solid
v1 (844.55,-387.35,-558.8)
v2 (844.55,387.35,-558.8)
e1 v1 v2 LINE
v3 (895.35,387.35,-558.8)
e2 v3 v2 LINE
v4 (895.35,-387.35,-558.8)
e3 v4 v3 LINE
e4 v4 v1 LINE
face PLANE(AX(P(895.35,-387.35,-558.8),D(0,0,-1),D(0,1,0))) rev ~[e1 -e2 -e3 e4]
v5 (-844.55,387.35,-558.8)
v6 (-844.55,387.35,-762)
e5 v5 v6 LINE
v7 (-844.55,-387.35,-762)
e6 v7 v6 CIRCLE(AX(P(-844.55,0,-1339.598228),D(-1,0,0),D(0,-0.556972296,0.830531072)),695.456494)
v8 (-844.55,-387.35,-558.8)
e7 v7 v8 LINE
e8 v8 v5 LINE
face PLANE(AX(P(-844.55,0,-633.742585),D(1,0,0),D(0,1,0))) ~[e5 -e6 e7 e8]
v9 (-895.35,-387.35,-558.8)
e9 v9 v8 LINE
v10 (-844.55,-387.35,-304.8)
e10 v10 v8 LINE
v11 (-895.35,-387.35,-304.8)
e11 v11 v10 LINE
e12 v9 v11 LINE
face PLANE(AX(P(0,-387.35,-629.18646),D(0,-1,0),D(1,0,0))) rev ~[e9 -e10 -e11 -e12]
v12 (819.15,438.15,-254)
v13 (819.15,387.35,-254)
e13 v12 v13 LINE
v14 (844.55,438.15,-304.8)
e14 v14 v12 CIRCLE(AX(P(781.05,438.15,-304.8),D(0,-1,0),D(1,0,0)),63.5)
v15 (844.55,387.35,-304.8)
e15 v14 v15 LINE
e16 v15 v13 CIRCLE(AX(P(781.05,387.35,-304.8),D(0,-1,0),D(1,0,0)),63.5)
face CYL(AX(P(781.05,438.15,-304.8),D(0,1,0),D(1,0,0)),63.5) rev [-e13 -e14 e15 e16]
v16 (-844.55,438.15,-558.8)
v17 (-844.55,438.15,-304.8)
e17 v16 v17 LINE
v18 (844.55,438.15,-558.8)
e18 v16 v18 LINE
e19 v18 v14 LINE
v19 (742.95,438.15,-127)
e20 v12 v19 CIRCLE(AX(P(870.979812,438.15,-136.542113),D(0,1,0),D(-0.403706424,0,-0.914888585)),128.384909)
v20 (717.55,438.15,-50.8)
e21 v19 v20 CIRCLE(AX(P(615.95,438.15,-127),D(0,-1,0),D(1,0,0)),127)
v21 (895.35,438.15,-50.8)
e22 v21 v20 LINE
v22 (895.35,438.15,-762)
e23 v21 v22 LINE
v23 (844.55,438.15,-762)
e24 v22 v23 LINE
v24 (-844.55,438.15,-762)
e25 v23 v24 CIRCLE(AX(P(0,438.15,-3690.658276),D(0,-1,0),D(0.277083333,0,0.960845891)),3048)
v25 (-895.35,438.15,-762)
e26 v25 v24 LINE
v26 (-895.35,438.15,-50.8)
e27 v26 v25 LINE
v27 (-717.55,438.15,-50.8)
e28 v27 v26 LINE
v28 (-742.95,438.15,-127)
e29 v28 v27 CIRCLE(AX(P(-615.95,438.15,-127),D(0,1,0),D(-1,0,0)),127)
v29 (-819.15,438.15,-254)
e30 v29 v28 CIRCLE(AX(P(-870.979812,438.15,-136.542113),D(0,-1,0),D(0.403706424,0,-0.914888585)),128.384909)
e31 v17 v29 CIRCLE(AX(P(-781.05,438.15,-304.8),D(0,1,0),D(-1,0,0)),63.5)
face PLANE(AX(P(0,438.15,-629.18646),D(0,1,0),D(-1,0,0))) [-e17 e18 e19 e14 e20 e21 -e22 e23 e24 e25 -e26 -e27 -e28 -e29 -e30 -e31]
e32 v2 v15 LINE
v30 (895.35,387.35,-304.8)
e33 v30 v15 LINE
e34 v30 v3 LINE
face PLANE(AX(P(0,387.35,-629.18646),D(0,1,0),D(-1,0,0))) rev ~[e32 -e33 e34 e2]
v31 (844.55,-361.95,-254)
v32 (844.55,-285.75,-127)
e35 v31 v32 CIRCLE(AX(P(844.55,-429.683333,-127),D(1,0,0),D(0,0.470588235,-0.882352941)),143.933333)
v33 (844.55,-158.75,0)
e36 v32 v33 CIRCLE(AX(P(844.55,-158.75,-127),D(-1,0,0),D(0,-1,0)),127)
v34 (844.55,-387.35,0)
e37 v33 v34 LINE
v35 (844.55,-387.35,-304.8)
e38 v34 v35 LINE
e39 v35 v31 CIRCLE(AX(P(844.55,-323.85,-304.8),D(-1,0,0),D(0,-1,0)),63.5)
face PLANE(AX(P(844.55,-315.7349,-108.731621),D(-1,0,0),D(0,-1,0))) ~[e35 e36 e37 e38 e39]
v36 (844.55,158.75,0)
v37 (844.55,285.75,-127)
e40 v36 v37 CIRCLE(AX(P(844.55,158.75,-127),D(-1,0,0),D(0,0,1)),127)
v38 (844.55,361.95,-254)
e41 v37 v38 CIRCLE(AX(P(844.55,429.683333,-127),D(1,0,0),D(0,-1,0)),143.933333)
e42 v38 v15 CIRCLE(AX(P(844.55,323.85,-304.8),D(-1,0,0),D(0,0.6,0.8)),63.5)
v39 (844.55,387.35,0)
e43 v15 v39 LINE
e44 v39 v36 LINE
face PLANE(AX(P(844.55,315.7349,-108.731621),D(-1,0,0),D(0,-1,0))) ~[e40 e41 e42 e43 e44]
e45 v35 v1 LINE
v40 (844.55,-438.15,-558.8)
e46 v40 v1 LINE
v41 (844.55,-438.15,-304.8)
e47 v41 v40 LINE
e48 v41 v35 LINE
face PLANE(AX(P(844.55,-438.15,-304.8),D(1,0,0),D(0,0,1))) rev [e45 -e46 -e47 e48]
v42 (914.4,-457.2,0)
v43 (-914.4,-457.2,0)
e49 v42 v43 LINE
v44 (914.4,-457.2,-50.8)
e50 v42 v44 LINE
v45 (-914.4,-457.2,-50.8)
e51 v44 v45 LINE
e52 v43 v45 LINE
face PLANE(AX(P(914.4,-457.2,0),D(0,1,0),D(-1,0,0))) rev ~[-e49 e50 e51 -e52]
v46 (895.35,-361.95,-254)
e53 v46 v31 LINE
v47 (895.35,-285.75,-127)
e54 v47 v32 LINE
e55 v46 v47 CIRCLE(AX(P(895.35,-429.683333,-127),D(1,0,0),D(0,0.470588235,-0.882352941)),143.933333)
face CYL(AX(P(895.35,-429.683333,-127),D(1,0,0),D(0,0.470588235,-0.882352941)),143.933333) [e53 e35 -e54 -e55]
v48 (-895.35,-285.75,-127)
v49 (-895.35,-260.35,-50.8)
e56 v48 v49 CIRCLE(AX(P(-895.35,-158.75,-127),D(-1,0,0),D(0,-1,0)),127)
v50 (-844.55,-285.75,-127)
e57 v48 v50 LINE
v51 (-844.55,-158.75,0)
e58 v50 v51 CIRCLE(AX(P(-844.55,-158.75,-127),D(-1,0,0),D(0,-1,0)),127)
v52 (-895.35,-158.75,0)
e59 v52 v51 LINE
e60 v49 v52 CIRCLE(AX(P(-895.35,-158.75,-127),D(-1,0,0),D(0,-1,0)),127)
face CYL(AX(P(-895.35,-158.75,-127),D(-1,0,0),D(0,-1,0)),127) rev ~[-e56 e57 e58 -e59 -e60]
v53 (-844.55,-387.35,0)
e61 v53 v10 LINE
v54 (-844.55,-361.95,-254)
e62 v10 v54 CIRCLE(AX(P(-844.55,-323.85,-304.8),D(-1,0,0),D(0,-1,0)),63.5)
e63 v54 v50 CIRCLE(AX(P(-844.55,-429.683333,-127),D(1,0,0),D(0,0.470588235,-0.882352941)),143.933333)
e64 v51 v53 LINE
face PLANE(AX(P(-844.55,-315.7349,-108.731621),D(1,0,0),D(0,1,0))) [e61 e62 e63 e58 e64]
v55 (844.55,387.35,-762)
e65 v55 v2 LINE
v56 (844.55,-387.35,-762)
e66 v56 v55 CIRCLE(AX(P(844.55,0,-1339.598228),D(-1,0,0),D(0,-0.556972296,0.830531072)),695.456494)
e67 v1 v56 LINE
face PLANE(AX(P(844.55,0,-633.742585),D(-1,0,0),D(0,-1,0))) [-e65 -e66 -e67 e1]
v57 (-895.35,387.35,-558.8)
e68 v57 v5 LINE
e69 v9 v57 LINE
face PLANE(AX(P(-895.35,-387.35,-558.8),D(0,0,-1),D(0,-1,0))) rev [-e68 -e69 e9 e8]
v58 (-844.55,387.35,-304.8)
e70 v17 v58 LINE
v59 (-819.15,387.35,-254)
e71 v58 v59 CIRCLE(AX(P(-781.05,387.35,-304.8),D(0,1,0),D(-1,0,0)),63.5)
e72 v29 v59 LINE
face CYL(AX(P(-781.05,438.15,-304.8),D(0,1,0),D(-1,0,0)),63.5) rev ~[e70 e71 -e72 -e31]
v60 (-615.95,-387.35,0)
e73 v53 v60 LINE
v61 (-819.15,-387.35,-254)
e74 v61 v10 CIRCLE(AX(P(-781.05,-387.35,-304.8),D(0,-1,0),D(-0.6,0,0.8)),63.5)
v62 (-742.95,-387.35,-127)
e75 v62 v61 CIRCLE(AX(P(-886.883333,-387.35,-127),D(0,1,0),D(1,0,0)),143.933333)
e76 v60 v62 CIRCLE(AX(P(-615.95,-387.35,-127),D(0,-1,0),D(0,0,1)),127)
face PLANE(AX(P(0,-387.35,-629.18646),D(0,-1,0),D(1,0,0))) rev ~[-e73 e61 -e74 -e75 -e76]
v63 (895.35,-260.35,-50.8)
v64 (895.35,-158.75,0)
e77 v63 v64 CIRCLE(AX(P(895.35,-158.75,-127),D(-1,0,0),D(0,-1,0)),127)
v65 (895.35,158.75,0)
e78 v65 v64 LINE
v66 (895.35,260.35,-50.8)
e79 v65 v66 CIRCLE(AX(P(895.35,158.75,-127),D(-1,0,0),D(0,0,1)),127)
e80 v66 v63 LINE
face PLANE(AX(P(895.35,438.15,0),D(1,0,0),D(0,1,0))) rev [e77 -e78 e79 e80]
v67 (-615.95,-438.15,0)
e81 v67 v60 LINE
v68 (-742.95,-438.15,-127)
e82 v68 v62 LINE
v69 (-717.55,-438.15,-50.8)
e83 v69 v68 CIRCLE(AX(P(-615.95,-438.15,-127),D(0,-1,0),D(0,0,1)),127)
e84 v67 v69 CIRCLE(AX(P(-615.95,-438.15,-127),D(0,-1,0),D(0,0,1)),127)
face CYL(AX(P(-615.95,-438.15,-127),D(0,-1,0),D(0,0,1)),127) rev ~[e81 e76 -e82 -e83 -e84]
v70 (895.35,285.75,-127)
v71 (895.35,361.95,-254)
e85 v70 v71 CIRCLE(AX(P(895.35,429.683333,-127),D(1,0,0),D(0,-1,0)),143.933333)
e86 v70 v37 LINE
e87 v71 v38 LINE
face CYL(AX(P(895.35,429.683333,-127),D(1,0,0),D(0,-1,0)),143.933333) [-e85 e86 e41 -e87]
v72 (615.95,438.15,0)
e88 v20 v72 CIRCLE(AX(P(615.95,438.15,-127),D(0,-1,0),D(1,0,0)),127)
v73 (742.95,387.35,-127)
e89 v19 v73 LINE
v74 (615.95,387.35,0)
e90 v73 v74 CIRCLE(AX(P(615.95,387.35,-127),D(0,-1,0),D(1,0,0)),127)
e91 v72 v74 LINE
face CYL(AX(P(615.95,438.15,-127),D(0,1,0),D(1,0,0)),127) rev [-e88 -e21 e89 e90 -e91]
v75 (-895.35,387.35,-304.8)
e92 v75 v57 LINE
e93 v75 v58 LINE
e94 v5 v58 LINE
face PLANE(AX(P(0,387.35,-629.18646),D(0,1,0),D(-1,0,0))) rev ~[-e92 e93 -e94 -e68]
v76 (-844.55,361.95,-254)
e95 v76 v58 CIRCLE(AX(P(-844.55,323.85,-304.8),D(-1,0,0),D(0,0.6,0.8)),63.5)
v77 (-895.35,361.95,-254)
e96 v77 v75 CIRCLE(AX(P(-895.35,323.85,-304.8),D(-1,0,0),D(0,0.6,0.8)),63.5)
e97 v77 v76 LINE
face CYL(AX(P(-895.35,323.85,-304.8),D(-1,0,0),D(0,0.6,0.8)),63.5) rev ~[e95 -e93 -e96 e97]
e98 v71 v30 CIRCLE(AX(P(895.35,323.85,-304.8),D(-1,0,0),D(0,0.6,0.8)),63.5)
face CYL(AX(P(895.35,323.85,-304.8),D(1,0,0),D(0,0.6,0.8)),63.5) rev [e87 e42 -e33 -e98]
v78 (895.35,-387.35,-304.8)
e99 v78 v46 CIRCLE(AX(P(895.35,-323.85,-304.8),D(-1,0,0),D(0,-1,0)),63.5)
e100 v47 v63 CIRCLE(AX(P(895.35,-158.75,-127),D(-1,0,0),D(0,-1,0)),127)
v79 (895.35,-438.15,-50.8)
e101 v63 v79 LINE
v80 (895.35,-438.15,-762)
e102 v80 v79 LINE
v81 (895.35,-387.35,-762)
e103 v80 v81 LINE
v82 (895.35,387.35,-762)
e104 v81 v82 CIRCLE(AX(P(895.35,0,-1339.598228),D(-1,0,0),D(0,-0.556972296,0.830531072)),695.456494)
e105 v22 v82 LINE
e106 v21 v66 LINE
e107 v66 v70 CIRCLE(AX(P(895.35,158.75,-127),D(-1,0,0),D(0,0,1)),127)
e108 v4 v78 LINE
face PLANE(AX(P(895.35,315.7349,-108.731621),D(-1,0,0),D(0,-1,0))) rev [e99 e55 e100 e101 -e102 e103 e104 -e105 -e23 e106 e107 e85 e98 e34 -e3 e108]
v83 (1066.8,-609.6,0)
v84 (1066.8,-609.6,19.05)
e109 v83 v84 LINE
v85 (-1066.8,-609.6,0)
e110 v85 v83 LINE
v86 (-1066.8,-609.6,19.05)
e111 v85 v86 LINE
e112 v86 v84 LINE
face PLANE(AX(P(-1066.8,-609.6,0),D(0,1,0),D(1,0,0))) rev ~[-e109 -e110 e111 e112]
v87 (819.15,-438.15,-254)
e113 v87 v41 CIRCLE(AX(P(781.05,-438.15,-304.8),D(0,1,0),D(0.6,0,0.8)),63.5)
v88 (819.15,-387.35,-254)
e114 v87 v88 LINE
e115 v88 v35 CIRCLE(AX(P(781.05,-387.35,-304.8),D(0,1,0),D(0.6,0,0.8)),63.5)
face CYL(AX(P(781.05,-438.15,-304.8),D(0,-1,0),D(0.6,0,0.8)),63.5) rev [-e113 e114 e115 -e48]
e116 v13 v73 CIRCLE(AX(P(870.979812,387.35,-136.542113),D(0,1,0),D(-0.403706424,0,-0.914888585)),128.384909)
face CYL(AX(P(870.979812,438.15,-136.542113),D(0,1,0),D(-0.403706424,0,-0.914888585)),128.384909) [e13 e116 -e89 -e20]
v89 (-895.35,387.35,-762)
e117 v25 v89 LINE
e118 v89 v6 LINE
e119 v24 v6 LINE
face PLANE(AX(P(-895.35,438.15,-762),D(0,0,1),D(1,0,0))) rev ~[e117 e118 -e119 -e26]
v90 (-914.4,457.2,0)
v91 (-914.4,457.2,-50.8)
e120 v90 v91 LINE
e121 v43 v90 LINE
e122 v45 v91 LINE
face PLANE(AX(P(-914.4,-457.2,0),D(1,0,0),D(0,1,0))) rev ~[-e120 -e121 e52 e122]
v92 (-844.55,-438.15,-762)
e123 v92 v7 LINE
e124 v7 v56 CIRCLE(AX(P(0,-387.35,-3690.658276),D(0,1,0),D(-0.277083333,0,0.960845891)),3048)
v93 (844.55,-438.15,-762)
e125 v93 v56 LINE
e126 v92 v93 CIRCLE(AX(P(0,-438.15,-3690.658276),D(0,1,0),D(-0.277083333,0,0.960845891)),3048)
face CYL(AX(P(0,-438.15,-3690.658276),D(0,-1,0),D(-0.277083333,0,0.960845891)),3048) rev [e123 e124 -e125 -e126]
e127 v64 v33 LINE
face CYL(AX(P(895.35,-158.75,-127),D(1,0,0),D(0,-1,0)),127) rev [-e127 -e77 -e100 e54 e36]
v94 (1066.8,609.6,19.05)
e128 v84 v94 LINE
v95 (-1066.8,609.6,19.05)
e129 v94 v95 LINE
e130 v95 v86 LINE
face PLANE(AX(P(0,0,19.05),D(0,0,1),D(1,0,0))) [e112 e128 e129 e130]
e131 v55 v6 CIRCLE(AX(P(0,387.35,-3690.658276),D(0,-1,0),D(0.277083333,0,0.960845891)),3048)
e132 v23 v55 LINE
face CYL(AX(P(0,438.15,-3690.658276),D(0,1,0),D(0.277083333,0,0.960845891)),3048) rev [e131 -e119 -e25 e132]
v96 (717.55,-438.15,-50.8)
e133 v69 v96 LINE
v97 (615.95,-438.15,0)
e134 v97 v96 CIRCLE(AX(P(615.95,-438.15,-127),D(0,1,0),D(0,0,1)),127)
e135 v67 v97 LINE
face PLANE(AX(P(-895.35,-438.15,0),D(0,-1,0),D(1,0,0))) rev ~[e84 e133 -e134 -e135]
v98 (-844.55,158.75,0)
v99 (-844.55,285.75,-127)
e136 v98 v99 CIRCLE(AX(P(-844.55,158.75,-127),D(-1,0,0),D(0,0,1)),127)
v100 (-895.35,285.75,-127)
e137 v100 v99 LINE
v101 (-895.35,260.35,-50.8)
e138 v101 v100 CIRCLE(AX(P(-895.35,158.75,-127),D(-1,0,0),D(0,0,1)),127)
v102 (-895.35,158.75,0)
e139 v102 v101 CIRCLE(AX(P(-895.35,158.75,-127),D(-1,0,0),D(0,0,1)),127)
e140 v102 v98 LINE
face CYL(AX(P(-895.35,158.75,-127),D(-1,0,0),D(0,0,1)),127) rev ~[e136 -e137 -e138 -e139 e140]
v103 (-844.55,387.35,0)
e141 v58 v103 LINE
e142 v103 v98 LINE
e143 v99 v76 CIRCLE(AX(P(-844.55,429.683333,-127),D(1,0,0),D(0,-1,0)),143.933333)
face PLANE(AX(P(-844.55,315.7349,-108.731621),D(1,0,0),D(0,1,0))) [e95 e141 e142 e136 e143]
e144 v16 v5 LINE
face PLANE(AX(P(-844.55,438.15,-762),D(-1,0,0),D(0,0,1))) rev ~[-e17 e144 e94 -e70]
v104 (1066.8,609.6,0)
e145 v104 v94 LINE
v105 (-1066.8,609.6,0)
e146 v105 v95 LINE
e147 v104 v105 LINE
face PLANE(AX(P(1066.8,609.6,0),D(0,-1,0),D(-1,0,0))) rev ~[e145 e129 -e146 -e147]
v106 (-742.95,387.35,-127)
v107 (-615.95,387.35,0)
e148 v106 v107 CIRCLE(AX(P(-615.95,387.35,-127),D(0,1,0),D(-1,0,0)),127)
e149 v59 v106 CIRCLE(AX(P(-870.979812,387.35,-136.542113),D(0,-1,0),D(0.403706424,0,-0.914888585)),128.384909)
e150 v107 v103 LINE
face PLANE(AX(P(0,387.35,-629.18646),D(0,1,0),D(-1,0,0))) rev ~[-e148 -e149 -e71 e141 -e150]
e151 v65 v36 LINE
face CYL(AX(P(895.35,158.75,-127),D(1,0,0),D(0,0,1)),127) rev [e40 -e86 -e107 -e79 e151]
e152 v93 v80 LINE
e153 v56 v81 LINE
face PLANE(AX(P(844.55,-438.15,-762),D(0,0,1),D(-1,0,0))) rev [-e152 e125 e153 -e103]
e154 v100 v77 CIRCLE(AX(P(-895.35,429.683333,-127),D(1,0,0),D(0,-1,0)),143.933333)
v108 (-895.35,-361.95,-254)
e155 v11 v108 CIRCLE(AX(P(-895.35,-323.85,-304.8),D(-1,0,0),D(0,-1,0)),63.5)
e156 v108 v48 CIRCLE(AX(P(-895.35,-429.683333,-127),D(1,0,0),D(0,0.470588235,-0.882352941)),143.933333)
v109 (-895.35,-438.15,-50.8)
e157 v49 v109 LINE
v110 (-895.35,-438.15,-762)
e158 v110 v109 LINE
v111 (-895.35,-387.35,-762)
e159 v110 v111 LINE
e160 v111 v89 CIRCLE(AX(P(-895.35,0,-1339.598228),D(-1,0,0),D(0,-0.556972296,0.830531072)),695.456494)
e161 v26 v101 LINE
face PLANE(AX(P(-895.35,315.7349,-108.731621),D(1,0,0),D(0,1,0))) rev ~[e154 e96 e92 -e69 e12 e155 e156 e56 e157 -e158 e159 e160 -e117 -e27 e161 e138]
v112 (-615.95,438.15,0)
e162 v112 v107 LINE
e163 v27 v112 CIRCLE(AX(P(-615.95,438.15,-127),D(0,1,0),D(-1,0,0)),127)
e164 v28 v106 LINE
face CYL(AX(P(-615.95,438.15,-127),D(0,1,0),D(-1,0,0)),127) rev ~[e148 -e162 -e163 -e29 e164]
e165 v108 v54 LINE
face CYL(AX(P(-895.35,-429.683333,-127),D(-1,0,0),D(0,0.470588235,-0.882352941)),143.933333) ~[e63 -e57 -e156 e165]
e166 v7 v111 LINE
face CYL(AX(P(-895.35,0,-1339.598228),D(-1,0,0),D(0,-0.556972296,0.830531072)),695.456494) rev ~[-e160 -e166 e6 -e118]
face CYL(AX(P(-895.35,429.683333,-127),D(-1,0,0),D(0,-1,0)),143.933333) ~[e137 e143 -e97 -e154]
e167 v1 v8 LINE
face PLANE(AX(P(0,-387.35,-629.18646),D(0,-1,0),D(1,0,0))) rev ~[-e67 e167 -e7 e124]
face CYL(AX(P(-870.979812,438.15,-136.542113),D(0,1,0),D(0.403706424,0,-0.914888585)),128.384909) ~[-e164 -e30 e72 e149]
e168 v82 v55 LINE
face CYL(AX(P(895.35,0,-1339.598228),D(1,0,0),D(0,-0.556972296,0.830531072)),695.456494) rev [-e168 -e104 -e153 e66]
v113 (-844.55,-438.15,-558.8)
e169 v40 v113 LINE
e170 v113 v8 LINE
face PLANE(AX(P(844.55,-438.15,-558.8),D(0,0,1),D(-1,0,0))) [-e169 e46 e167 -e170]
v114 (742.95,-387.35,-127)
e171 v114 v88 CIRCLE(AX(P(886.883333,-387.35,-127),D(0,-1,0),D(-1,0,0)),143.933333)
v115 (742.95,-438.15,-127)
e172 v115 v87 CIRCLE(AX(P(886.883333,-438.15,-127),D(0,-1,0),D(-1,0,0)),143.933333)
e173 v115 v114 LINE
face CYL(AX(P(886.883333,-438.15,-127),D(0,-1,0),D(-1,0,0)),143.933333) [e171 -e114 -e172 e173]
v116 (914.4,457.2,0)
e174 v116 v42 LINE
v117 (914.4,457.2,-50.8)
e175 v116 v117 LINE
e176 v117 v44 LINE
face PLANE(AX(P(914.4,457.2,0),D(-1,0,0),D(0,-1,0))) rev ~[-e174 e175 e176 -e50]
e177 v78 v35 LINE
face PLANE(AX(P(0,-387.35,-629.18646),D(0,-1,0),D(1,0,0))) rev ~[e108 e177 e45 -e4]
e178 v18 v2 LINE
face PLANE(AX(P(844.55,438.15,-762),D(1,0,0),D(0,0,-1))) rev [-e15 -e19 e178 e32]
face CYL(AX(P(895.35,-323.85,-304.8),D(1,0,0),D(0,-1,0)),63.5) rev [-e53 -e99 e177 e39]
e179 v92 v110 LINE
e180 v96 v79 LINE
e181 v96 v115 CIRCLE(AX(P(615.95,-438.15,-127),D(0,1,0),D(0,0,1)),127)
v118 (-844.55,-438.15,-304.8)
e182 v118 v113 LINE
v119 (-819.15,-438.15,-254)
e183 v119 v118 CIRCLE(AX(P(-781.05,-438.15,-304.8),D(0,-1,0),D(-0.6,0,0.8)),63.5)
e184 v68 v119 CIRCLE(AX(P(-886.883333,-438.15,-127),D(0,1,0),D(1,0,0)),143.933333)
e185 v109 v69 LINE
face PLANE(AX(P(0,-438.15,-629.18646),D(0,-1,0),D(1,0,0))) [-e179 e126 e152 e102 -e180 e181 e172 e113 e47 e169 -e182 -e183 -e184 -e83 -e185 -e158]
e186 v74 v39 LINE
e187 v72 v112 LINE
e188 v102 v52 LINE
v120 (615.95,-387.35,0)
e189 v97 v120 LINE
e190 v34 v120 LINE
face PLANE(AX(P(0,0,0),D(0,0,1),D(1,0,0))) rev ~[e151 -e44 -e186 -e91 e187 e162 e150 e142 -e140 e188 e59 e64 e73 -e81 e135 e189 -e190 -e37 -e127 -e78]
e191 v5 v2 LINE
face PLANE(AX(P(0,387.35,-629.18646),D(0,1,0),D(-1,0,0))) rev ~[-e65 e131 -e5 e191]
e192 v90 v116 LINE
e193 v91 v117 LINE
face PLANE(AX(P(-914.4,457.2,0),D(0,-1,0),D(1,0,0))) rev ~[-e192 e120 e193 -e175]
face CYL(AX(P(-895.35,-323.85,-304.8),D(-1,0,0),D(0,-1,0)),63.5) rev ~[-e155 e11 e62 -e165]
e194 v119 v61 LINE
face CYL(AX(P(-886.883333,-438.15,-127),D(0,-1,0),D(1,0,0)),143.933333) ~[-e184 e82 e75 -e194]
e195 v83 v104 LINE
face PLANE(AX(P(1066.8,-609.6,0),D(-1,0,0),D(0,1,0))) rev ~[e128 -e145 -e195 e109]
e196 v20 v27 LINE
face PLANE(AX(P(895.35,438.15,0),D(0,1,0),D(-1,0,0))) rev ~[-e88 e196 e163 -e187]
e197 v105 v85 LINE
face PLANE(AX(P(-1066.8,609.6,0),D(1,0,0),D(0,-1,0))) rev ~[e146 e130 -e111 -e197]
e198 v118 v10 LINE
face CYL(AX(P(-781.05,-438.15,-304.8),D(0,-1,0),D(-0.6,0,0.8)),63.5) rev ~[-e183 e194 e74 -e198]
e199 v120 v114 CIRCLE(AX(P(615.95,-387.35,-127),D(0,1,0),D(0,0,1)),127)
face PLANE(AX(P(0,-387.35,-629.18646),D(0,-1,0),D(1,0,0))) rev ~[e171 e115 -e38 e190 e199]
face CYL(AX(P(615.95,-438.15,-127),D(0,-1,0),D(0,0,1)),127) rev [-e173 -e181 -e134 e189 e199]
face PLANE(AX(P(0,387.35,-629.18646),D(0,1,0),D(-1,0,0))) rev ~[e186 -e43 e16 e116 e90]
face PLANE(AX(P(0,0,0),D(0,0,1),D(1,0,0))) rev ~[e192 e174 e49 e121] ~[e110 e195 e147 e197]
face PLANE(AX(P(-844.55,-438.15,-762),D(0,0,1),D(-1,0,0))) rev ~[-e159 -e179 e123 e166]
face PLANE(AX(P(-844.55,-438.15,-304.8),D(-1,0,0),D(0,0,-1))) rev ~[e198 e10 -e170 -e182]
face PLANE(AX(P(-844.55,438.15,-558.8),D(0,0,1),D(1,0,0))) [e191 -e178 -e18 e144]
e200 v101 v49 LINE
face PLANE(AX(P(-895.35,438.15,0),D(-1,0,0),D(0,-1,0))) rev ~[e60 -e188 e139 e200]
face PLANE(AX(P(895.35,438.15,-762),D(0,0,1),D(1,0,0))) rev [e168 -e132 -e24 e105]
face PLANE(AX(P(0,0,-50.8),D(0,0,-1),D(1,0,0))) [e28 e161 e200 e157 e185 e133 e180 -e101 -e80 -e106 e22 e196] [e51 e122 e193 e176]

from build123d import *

# Parameters (mm, degrees)
F0_W      = 2057.4
F0_H      = 1143
F1_DEPTH  = 19.05
F3_DEPTH  = 50.8
F5_DEPTH  = 50.8
F7_DEPTH  = 50.8
F10_DEPTH = 50.8
F12_DEPTH = 50.8
F14_DEPTH = 50.8
F16_DEPTH = 50.8
F18_DEPTH = 50.8


with BuildPart() as f1:
    # F0 (on Top) → F1 (new body)
    with BuildSketch(Plane.XY):
        Polygon((1066.8, 609.6), (0, 609.6), (-1066.8, 609.6), (-1066.8, -609.6), (-1028.7, -609.6), (1066.8, -609.6), align=None)
        Rectangle(F0_W, F0_H, mode=Mode.SUBTRACT)
        Rectangle(F0_W, F0_H)
    extrude(amount=F1_DEPTH)

    # F2 (on face) → F3 (join)
    with BuildSketch(Plane(origin=(0, 0, 0), x_dir=(1, 0, 0), z_dir=(0, 0, -1))):
        Polygon((-914.4, -457.2), (0, -457.2), (914.4, -457.2), (914.4, 457.2), (0, 457.2), (-914.4, 457.2), align=None)
        Polygon((895.35, -438.15), (0, -438.15), (-895.35, -438.15), (-895.35, 438.15), (0, 438.15), (895.35, 438.15), align=None, mode=Mode.SUBTRACT)
    extrude(amount=F3_DEPTH)

    # F4 (on face) → F5 (join)
    with BuildSketch(Plane(origin=(0, -438.15, 0), x_dir=(-1, 0, 0), z_dir=(0, 1, 0))):
        with BuildLine():
            Line((895.35, -762), (895.35, 0))
            Line((895.35, 0), (742.95, 0))
            Line((742.95, 0), (615.95, 0))
            ThreePointArc((615.95, 0), (705.7525612107, -37.1974387893), (742.95, -127))
            ThreePointArc((742.95, -127), (763.4615182258, -201.0530890645), (819.15, -254))
            ThreePointArc((819.15, -254), (837.8461266285, -276.4019366858), (844.55, -304.8))
            Line((844.55, -304.8), (844.55, -762))
            Line((844.55, -762), (895.35, -762))
        make_face()
    extrude(amount=F5_DEPTH)

    # F6 (on face) → F7 (join)
    with BuildSketch(Plane.XZ.offset(-438.15)):
        with BuildLine():
            Line((-742.95, 0), (-895.35, 0))
            Line((-895.35, 0), (-895.35, -127))
            Line((-895.35, -127), (-895.35, -203.2))
            Line((-895.35, -203.2), (-895.35, -762))
            Line((-895.35, -762), (-844.55, -762))
            Line((-844.55, -762), (-844.55, -304.8))
            ThreePointArc((-844.55, -304.8), (-837.8461266285, -276.4019366858), (-819.15, -254))
            ThreePointArc((-819.15, -254), (-760.8906614316, -202.595603141), (-742.95, -127))
            ThreePointArc((-742.95, -127), (-705.7525612107, -37.1974387893), (-615.95, 0))
            Line((-615.95, 0), (-742.95, 0))
        make_face()
    extrude(amount=F7_DEPTH)

    # F8: F1 across plane


with BuildPart() as f1_1:
    add(f1.part)
    add(f1.part.mirror(Plane.YZ))

    # F9 (on face) → F10 (join)
    with BuildSketch(Plane.XZ.offset(438.15)):
        with BuildLine():
            Line((-844.55, -558.8), (-844.55, -762))
            ThreePointArc((-844.55, -762), (0, -642.6582759858), (844.55, -762))
            Line((844.55, -762), (844.55, -558.8))
            Line((844.55, -558.8), (-844.55, -558.8))
        make_face()
    extrude(amount=-F10_DEPTH)

    # F11 (on face) → F12 (join)
    with BuildSketch(Plane(origin=(0, 438.15, 0), x_dir=(-1, 0, 0), z_dir=(0, 1, 0))):
        with BuildLine():
            ThreePointArc((-844.55, -762), (0, -642.6582759858), (844.55, -762))
            Line((844.55, -762), (844.55, -558.8))
            Line((844.55, -558.8), (-844.55, -558.8))
            Line((-844.55, -558.8), (-844.55, -762))
        make_face()
    extrude(amount=-F12_DEPTH)

    # F13 (on face) → F14 (join)
    with BuildSketch(Plane.YZ.offset(-895.35)):
        with BuildLine():
            Line((-387.35, -560.2836336464), (-387.35, -762))
            ThreePointArc((-387.35, -762), (0, -644.1417336464), (387.35, -762))
            Line((387.35, -762), (387.35, -560.2836336464))
            Line((387.35, -560.2836336464), (-387.35, -560.2836336464))
        make_face()
    extrude(amount=F14_DEPTH)

    # F15 (on face) → F16 (join)
    with BuildSketch(Plane(origin=(895.35, 0, 0), x_dir=(0, -1, 0), z_dir=(-1, 0, 0))):
        with BuildLine():
            Line((-387.35, -558.8), (-387.35, -762))
            ThreePointArc((-387.35, -762), (0, -642.6581), (387.35, -762))
            Line((387.35, -762), (387.35, -558.8))
            Line((387.35, -558.8), (-387.35, -558.8))
        make_face()
    extrude(amount=F16_DEPTH)

    # F17 (on face) → F18 (join)
    with BuildSketch(Plane.YZ.offset(-895.35)):
        with BuildLine():
            Line((387.35, -304.8), (387.35, 0))
            Line((387.35, 0), (158.75, 0))
            ThreePointArc((158.75, 0), (248.5525612107, -37.1974387893), (285.75, -127))
            ThreePointArc((285.75, -127), (306.2615182258, -201.0530890645), (361.95, -254))
            ThreePointArc((361.95, -254), (380.6461266285, -276.4019366858), (387.35, -304.8))
        make_face()
        with BuildLine():
            Line((-387.35, 0), (-387.35, -304.8))
            ThreePointArc((-387.35, -304.8), (-380.6461266285, -276.4019366858), (-361.95, -254))
            ThreePointArc((-361.95, -254), (-306.2615182258, -201.0530890645), (-285.75, -127))
            ThreePointArc((-285.75, -127), (-248.5525612107, -37.1974387893), (-158.75, 0))
            Line((-158.75, 0), (-387.35, 0))
        make_face()
    extrude(amount=F18_DEPTH)

    # F19: F1 across plane


with BuildPart() as f1_2:
    add(f1_1.part)
    add(f1_1.part.mirror(Plane.YZ))


solid = f1_2.part
